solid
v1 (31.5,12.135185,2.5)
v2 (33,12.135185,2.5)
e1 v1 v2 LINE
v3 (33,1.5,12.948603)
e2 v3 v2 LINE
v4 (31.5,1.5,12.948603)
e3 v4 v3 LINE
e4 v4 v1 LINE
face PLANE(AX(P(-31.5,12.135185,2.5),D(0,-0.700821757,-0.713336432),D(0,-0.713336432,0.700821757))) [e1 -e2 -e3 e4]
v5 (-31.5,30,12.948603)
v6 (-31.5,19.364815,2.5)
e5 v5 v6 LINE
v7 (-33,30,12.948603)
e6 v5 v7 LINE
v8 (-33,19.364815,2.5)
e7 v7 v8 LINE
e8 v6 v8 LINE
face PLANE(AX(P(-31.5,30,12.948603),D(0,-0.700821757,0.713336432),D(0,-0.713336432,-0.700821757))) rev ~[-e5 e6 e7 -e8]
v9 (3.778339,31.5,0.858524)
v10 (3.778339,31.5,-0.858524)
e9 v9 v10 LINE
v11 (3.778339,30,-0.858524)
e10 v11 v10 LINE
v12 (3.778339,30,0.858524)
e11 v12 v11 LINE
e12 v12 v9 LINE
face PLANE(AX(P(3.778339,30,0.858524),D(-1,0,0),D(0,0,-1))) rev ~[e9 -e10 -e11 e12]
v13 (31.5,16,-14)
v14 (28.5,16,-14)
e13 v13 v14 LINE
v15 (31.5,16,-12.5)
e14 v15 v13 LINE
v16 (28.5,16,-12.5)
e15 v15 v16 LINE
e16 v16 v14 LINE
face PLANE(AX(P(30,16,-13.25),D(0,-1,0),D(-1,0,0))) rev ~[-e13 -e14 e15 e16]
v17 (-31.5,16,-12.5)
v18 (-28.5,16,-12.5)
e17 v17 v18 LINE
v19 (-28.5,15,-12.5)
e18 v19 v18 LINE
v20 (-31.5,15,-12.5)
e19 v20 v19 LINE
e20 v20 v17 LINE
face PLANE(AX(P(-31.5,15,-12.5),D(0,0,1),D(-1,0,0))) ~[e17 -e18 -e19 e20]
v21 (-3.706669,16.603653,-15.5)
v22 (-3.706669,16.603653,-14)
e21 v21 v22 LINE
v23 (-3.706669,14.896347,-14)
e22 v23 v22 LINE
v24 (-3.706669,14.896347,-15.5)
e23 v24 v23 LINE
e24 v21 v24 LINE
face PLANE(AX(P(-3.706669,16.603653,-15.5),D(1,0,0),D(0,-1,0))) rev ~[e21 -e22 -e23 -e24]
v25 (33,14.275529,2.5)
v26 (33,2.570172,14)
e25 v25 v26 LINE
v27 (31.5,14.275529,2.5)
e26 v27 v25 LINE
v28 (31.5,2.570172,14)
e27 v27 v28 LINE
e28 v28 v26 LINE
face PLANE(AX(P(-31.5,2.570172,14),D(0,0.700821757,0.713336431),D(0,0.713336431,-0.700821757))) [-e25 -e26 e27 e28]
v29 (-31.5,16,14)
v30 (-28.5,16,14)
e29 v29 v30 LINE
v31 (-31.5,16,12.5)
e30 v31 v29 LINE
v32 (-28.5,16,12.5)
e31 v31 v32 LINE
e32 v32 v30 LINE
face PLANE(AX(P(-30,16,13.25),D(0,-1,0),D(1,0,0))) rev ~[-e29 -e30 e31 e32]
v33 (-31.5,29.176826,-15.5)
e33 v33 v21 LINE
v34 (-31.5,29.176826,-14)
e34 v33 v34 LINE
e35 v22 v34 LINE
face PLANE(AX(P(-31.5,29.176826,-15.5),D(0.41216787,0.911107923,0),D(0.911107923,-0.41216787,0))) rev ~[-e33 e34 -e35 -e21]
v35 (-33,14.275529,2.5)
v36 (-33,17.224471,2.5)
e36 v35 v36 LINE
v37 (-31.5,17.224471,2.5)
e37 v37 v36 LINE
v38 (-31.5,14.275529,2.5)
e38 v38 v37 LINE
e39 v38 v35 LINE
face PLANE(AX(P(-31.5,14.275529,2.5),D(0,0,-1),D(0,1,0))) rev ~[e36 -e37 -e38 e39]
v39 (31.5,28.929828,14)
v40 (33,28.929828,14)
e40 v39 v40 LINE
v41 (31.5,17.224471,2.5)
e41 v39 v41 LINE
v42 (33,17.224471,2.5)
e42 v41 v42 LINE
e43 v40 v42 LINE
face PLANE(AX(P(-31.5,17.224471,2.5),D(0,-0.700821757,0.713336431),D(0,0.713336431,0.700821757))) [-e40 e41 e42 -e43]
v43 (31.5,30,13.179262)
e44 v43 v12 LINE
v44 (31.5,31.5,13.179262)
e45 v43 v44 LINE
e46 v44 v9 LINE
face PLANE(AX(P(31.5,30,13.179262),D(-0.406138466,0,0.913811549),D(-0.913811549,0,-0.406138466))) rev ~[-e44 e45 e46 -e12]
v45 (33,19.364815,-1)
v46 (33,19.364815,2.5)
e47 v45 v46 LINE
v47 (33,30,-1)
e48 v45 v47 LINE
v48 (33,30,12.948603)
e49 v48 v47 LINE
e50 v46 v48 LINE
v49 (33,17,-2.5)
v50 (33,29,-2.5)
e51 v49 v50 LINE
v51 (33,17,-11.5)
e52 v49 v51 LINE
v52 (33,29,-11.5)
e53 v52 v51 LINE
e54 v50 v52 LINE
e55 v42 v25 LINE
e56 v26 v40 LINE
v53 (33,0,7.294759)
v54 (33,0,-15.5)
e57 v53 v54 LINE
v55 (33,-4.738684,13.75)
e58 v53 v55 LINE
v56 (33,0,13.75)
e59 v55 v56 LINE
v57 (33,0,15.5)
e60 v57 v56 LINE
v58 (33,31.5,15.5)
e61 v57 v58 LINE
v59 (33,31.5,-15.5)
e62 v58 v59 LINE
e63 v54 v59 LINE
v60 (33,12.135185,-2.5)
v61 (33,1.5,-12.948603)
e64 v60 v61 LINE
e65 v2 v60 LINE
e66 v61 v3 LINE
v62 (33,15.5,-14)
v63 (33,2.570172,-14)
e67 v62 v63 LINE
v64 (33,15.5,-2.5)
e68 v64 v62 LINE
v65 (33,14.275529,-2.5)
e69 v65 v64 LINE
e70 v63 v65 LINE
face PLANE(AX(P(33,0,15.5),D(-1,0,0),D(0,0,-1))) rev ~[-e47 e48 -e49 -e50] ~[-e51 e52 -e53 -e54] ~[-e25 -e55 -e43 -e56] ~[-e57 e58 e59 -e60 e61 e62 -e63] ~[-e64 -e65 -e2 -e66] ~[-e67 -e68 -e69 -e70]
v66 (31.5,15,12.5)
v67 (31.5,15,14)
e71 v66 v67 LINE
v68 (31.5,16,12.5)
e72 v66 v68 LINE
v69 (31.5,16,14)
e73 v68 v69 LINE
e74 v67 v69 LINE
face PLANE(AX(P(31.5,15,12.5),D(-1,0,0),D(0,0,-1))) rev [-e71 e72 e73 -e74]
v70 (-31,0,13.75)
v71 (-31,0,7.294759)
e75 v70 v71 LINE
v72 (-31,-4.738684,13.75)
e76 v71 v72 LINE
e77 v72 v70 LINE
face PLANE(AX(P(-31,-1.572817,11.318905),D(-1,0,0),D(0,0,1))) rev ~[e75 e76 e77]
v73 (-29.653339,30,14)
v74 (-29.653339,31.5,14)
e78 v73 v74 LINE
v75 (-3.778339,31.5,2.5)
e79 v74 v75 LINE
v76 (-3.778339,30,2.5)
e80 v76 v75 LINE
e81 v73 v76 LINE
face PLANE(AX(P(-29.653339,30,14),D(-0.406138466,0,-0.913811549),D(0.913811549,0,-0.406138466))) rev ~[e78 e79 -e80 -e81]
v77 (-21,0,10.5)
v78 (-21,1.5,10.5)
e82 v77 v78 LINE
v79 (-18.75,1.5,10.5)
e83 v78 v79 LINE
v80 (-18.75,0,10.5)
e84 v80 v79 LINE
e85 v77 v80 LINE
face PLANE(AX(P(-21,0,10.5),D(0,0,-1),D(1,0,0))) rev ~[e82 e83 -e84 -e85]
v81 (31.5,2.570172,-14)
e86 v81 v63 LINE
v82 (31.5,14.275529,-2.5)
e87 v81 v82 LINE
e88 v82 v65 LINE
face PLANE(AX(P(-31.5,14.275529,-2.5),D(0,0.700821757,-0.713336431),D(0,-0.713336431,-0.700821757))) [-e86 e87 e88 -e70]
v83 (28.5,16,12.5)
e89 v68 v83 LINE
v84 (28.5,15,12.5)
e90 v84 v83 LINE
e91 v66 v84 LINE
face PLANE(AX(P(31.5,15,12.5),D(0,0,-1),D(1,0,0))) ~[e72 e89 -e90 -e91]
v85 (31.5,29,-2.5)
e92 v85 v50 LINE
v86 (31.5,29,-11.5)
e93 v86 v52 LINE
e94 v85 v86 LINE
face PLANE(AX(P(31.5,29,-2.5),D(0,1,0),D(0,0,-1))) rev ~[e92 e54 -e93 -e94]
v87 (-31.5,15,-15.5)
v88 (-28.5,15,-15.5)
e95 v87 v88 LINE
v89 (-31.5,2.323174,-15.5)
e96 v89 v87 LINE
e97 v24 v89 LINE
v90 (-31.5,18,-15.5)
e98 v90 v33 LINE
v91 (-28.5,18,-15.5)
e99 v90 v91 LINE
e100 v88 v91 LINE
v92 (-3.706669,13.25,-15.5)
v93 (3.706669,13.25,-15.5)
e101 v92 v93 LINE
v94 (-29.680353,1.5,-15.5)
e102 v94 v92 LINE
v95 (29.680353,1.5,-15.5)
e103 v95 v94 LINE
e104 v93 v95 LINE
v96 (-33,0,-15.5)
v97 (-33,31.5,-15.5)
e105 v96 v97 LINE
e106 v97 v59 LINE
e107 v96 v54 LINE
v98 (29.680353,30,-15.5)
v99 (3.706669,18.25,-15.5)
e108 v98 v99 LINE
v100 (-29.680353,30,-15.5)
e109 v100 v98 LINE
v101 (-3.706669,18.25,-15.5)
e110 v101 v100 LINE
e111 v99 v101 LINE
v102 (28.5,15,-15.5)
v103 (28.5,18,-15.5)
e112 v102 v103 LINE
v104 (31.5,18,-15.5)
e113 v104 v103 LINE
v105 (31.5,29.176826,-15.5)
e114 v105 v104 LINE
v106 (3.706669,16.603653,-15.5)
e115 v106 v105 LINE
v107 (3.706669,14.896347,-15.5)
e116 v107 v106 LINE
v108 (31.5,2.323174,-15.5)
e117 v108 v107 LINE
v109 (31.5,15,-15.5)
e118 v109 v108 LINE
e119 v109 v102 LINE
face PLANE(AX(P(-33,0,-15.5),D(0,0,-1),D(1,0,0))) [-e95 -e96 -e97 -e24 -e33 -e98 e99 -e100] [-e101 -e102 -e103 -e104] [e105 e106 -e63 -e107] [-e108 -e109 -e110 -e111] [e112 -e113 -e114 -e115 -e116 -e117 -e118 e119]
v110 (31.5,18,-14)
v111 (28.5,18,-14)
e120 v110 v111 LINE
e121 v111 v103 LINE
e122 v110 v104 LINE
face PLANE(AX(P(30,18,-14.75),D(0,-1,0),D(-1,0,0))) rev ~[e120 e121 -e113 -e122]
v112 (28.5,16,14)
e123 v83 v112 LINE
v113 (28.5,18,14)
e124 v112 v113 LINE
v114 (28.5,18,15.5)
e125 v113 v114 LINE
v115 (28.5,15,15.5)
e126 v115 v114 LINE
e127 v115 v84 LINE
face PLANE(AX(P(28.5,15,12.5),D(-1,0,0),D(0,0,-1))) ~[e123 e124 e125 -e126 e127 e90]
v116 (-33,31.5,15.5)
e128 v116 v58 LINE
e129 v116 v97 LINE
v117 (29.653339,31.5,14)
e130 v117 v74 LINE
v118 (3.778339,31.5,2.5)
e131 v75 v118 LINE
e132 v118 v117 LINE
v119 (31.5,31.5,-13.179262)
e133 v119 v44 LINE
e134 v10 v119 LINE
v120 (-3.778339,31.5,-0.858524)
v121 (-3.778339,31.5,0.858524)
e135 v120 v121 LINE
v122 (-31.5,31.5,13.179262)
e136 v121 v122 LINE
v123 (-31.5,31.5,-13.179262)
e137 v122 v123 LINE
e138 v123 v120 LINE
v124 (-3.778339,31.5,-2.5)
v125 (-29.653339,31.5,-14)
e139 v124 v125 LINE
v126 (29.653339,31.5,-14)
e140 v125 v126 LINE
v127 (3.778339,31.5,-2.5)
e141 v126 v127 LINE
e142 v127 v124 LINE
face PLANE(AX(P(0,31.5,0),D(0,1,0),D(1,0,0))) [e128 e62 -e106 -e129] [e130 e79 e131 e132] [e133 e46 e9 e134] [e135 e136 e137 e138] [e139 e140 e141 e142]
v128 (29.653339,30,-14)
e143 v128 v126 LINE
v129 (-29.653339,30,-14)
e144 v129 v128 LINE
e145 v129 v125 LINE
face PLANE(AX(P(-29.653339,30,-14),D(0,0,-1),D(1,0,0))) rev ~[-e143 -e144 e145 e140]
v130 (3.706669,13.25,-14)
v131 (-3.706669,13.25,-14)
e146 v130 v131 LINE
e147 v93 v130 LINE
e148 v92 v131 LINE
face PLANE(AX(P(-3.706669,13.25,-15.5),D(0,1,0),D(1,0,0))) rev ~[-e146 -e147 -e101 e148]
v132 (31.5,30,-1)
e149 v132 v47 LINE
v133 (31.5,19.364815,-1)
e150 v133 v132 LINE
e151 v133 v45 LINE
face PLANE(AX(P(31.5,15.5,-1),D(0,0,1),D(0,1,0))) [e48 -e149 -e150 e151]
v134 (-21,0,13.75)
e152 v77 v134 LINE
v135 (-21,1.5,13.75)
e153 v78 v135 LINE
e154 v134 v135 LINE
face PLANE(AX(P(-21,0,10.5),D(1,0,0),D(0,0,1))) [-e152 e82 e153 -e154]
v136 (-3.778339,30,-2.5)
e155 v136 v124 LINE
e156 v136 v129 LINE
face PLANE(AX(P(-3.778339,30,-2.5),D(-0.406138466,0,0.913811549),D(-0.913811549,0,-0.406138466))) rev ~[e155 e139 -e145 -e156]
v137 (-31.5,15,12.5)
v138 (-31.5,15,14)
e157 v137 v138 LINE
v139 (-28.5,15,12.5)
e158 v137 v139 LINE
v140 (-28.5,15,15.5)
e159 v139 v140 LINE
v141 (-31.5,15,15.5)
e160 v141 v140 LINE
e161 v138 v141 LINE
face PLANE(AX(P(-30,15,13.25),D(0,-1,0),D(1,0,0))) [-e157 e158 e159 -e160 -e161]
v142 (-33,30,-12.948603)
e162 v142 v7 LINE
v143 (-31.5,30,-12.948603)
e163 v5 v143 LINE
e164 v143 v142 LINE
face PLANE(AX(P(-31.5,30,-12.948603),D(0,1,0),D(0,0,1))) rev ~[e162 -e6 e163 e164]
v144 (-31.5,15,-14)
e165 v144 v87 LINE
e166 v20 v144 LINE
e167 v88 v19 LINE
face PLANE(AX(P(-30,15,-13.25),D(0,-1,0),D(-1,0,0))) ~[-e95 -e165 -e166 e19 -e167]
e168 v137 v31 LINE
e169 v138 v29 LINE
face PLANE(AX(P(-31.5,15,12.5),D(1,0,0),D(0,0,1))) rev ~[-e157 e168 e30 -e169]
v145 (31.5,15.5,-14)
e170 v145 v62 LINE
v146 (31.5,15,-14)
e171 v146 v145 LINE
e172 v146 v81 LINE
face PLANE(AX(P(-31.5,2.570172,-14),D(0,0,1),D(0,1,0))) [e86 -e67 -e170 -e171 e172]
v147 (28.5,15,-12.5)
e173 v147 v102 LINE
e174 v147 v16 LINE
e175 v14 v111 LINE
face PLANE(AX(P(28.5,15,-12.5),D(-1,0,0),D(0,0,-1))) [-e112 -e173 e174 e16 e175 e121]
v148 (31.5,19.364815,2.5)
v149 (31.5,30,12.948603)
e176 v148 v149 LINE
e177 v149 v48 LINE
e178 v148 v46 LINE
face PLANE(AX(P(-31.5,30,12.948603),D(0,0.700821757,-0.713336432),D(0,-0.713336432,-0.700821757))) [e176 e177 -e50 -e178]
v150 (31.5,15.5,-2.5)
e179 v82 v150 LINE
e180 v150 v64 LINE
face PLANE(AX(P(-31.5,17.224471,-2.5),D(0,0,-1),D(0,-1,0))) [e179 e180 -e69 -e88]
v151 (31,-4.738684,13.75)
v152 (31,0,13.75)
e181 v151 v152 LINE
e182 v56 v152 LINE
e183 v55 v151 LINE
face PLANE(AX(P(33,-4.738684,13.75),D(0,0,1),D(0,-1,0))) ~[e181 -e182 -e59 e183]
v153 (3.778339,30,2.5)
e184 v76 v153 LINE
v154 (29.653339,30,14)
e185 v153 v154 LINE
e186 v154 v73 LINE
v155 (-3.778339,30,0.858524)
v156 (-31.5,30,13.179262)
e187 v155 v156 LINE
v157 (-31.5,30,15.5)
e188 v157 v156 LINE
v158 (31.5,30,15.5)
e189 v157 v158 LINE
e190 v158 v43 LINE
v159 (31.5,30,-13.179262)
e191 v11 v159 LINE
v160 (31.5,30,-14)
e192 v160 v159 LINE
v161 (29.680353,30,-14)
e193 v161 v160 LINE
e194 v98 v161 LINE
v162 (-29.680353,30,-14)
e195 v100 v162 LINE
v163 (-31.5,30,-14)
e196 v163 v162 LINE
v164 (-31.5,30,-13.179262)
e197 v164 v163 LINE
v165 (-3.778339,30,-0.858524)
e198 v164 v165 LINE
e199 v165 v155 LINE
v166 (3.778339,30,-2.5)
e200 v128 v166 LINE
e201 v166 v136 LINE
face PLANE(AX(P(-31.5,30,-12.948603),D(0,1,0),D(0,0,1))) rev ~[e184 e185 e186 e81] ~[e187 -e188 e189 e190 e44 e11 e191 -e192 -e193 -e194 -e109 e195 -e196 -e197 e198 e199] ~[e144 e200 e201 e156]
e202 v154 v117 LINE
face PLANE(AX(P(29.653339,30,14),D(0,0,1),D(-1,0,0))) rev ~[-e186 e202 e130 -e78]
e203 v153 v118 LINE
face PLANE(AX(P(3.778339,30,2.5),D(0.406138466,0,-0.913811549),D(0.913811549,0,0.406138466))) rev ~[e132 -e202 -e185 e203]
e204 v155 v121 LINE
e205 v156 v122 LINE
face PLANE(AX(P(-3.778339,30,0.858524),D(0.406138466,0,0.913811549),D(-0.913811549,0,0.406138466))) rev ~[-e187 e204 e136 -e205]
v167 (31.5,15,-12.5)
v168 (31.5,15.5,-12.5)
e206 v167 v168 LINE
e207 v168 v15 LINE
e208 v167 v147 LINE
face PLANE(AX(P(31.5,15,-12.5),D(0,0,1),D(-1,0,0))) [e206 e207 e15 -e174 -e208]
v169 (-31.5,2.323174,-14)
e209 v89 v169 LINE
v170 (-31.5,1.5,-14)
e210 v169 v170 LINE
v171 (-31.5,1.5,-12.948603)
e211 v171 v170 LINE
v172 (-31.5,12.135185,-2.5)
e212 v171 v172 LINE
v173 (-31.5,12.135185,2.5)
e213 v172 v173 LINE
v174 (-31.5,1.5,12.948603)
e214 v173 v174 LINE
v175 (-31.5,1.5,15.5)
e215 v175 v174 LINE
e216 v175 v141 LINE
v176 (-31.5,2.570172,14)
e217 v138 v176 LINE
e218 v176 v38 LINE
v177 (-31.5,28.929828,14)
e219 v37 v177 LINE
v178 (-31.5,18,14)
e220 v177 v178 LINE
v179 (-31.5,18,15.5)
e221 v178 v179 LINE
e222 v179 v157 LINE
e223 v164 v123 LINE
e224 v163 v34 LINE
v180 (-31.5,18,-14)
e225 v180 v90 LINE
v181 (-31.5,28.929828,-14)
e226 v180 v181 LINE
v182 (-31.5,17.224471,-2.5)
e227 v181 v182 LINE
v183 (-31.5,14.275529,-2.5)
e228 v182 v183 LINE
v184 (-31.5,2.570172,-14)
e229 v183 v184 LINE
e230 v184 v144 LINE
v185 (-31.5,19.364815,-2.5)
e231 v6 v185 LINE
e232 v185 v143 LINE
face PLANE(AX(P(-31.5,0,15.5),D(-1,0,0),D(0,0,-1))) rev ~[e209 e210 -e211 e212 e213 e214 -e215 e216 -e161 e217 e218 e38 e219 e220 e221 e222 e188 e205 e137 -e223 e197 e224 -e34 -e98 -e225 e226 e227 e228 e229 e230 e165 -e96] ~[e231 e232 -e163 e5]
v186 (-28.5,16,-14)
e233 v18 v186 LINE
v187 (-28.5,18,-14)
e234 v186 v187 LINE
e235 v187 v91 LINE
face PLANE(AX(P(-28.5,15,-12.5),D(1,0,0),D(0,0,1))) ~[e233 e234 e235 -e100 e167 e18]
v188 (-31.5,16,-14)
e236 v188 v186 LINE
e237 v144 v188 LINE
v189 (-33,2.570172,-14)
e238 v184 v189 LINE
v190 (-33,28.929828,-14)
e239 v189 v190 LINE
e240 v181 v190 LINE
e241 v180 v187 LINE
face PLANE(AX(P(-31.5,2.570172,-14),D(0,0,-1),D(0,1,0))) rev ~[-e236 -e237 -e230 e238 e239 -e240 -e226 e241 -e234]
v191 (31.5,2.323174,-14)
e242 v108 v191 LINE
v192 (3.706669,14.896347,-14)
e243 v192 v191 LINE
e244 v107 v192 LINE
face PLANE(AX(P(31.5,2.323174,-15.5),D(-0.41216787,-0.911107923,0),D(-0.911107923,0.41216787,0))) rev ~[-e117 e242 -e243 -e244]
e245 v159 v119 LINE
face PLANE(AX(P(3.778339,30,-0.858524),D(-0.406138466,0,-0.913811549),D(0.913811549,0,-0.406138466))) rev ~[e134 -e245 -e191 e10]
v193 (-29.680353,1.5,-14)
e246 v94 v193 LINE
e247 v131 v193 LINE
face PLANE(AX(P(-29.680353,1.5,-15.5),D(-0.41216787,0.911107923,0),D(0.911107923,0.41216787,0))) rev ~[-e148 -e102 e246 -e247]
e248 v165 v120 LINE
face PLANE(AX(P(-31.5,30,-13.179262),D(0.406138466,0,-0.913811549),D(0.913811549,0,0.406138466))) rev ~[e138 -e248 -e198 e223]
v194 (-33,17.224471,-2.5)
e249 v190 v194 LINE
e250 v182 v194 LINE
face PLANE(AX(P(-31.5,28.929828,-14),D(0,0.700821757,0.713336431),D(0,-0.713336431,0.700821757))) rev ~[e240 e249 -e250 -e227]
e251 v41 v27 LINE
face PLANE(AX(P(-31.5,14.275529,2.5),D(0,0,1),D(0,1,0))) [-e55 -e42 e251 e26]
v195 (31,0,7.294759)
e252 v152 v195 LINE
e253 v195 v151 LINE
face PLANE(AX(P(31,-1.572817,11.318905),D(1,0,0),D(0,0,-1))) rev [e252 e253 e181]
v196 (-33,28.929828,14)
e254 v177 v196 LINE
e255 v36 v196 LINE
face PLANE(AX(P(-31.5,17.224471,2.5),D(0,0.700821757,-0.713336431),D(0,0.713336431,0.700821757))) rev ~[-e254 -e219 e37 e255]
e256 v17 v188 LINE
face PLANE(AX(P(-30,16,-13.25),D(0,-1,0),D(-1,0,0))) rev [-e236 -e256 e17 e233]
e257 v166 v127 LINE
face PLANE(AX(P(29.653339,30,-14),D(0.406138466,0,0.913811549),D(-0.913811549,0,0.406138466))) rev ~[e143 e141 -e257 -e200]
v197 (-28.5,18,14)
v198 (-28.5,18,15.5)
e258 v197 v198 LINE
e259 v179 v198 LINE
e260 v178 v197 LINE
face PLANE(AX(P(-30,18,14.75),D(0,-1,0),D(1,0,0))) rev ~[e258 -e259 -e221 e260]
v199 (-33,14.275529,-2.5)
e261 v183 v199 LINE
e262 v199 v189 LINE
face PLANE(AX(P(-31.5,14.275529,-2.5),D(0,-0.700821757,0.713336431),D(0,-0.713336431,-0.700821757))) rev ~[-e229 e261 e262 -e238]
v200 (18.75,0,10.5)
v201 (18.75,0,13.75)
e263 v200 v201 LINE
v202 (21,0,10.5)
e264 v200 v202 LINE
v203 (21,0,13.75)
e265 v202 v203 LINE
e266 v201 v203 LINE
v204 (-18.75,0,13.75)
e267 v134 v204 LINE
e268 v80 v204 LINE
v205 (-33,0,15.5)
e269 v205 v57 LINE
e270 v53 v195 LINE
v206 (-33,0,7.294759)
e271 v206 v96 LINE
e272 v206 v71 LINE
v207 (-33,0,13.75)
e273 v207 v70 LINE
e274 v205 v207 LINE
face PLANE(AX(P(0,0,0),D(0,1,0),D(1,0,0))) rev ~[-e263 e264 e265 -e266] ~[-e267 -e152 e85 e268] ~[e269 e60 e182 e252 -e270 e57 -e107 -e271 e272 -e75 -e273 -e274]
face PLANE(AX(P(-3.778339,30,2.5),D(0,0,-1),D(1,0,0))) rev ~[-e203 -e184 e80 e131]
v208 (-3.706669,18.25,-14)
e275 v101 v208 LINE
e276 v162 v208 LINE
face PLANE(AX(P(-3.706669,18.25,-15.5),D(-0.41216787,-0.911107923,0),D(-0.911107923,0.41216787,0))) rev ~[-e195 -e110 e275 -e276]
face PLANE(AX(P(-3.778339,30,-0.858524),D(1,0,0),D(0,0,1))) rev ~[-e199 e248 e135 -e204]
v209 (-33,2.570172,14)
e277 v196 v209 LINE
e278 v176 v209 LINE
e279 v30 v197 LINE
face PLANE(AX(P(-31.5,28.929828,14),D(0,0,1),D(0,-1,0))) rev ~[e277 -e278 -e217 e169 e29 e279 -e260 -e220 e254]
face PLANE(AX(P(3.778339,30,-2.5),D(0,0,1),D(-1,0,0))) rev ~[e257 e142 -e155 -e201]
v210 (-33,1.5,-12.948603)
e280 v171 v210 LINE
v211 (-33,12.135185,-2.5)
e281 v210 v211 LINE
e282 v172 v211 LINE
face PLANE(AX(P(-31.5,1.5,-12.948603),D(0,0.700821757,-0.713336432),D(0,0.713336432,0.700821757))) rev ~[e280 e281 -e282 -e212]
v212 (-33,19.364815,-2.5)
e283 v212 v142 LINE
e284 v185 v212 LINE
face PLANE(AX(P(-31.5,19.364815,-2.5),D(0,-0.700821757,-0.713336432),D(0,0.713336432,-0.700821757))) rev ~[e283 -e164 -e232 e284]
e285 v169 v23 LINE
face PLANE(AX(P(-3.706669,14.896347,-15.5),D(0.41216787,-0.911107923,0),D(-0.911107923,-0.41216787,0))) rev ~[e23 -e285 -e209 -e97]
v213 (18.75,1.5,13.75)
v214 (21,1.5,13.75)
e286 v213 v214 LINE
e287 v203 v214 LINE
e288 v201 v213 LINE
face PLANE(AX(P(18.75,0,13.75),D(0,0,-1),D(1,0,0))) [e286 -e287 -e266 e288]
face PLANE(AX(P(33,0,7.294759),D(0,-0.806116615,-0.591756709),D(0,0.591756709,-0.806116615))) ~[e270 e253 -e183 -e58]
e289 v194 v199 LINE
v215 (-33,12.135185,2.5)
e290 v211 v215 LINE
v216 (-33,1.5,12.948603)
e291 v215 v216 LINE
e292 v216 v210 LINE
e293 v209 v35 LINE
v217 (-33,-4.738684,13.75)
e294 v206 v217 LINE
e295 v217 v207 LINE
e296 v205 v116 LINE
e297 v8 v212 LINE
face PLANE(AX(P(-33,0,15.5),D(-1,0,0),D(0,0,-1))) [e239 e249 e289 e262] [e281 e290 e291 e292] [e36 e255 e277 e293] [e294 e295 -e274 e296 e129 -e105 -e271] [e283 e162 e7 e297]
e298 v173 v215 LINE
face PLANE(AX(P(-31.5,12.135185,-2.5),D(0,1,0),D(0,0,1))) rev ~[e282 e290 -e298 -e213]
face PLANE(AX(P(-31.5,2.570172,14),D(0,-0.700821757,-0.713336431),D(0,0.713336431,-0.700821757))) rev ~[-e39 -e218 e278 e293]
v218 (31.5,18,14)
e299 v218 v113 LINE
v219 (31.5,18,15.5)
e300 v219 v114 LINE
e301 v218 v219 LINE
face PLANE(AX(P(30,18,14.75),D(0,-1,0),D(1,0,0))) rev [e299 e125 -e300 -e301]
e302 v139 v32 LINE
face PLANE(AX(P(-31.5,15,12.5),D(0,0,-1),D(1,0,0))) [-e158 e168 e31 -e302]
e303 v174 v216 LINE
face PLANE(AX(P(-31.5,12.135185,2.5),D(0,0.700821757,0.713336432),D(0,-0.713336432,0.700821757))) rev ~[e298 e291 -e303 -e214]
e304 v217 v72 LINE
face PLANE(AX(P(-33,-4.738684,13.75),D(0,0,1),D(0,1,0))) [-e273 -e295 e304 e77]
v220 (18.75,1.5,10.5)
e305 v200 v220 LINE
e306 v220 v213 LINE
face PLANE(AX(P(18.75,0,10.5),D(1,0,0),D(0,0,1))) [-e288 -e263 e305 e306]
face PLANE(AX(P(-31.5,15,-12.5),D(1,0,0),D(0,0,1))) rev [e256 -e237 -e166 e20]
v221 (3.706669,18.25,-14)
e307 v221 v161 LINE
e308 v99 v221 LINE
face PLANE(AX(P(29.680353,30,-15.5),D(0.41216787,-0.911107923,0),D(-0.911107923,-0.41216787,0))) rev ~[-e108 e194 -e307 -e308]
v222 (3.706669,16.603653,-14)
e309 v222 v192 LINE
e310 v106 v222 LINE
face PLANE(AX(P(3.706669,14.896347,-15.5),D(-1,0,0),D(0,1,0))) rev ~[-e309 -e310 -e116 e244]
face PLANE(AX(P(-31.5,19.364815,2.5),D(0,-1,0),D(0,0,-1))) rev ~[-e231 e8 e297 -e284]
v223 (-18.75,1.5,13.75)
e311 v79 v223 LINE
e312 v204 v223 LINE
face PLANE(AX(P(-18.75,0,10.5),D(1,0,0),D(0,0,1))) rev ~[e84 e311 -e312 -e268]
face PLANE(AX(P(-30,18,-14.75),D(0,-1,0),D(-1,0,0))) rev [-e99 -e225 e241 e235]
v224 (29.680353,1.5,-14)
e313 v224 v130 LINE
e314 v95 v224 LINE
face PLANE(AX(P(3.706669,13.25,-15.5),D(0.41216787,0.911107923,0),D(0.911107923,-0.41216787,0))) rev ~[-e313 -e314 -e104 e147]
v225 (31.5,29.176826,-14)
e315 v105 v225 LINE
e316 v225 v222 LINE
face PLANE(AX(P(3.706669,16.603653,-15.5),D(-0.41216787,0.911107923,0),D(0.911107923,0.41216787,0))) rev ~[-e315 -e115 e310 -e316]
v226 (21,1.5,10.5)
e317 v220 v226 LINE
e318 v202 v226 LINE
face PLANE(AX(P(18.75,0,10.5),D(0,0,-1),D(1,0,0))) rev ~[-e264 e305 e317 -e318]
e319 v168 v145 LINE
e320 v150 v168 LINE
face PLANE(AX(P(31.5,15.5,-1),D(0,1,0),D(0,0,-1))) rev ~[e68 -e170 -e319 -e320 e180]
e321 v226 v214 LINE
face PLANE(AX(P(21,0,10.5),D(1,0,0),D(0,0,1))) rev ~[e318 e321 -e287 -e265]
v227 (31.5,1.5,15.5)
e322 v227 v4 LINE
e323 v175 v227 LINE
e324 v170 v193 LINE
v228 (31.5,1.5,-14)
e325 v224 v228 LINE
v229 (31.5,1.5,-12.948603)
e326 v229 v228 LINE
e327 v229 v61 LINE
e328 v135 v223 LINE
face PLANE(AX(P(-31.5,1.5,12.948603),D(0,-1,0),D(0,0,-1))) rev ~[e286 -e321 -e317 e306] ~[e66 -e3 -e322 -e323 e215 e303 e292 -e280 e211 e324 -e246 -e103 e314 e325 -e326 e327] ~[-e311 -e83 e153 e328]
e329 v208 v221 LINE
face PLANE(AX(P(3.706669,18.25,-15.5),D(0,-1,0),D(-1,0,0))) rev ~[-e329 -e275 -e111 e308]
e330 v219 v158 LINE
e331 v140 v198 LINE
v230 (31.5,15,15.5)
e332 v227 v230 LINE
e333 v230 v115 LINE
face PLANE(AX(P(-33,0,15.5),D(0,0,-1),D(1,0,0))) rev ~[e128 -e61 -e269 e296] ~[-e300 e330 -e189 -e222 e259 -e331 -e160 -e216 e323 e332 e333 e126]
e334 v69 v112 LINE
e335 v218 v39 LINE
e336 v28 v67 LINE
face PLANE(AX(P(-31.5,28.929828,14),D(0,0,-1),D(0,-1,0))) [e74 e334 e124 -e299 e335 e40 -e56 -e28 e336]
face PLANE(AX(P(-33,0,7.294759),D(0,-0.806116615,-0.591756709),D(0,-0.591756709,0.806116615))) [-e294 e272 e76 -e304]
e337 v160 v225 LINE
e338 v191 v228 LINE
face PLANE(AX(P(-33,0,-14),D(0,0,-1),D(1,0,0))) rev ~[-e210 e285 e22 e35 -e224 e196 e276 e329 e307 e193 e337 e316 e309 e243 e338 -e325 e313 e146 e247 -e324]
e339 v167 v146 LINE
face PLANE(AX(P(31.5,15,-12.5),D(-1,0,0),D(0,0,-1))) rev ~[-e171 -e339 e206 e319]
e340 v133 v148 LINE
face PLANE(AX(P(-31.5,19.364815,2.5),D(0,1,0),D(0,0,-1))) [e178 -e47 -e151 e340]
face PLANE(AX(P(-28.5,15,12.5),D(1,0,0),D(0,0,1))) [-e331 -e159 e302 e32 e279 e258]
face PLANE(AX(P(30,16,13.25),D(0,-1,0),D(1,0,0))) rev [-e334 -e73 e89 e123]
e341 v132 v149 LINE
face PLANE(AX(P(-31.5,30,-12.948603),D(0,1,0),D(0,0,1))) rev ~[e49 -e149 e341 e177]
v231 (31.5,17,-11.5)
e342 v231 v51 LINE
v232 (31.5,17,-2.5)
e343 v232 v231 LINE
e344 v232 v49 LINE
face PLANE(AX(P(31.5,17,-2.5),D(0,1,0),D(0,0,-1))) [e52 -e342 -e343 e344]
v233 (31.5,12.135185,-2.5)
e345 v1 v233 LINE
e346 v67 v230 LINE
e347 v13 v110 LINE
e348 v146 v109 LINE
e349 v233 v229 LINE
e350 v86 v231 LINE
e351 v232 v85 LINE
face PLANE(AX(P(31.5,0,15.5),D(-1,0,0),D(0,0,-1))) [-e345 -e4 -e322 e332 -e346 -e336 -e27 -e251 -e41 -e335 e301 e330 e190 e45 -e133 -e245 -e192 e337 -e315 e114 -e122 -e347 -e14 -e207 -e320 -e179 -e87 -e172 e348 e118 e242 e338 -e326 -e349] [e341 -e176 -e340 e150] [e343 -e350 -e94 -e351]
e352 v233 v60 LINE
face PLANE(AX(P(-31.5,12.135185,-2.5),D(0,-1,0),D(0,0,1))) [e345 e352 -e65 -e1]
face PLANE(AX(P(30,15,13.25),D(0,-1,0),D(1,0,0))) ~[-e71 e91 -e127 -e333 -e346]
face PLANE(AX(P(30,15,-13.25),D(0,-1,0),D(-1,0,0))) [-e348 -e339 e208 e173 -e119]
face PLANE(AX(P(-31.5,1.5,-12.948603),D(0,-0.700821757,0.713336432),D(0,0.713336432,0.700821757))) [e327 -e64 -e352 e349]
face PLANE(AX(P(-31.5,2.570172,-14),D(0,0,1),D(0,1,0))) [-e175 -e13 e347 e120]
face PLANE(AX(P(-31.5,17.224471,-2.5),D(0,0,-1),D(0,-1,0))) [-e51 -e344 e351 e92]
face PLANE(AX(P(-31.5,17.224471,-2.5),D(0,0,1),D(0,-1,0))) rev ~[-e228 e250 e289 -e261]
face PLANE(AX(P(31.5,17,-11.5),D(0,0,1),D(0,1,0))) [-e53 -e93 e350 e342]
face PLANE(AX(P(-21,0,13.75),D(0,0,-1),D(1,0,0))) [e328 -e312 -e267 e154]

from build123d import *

# Parameters (mm, degrees)
SKETCH1_W                      = 66
SKETCH1_H                      = 31
BOSS_EXTRUDE1_DEPTH            = 31.5
SHELL1_T                       = -1.5
CUT_EXTRUDE1_REACH             = 57.157
CUT_EXTRUDE2_REACH             = 75.435
CUT_EXTRUDE2_DIRECTION_2_REACH = 75.435
SKETCH6_W                      = 3
SKETCH6_H                      = 1.5
BOSS_EXTRUDE4_DEPTH            = 3
SKETCH6_3_W                    = 3
SKETCH6_3_H                    = 1.5
BOSS_EXTRUDE5_DEPTH            = 1
MIRROR3_COPY_1_SKETCH_W        = 3
MIRROR3_COPY_1_SKETCH_H        = 1.5
MIRROR3_COPY_1_DEPTH           = 3
MIRROR3_COPY_2_SKETCH_W        = 3
MIRROR3_COPY_2_SKETCH_H        = 1.5
MIRROR3_COPY_2_DEPTH           = 1
SKETCH7_W                      = 13
SKETCH7_H                      = 14.5
SKETCH7_W_2                    = 9
SKETCH7_H_2                    = 12
BOSS_EXTRUDE8_DEPTH            = 1.5
SKETCH7_4_W                    = 9
SKETCH7_4_H                    = 12
CUT_EXTRUDE5_DEPTH             = 1.5
CUT_EXTRUDE9_REACH             = 49.215
BOSS_EXTRUDE9_DEPTH            = 2
SKETCH12_W                     = 2.25
SKETCH12_H                     = 3.25
CUT_EXTRUDE10_DEPTH            = 1.5


with BuildPart() as part:
    # Sketch1 → Boss-Extrude1 (new body)
    with BuildSketch(Plane(origin=(0, 0, 0), x_dir=(1, 0, 0), z_dir=(0, 1, 0))):
        Rectangle(SKETCH1_W, SKETCH1_H)
    extrude(amount=BOSS_EXTRUDE1_DEPTH)

    # Shell1
    shell1_openings = [part.faces().sort_by_distance(p)[0] for p in [
        (0, 15.75, 15.5),
    ]]
    offset(amount=SHELL1_T, openings=shell1_openings, kind=Kind.INTERSECTION)

    # Sketch3 → Cut-Extrude1 (cut, up to next)
    with BuildSketch(Plane(origin=(0, 0, -15.5), x_dir=(-1, 0, 0), z_dir=(0, 0, -1)), mode=Mode.PRIVATE) as cut_extrude1_sk1:
        Polygon((29.680353068, 1.5), (3.706668857, 13.25), (-3.706668857, 13.25), (-29.680353068, 1.5), align=None)
    cut_extrude1_tool1 = extrude(cut_extrude1_sk1.sketch, amount=-CUT_EXTRUDE1_REACH, mode=Mode.PRIVATE) & part.part
    # Sketch3 → Cut-Extrude1 (cut, up to next)
    with BuildSketch(Plane(origin=(0, 0, -15.5), x_dir=(-1, 0, 0), z_dir=(0, 0, -1)), mode=Mode.PRIVATE) as cut_extrude1_sk2:
        Polygon((3.706668857, 16.603652775), (3.706668857, 14.896347225), (31.5, 2.323173612), (31.5, 29.176826388), align=None)
    cut_extrude1_tool2 = extrude(cut_extrude1_sk2.sketch, amount=-CUT_EXTRUDE1_REACH, mode=Mode.PRIVATE) & part.part
    # Sketch3 → Cut-Extrude1 (cut, up to next)
    with BuildSketch(Plane(origin=(0, 0, -15.5), x_dir=(-1, 0, 0), z_dir=(0, 0, -1)), mode=Mode.PRIVATE) as cut_extrude1_sk3:
        Polygon((-31.5, 2.323173612), (-3.706668857, 14.896347225), (-3.706668857, 16.603652775), (-31.5, 29.176826388), align=None)
    cut_extrude1_tool3 = extrude(cut_extrude1_sk3.sketch, amount=-CUT_EXTRUDE1_REACH, mode=Mode.PRIVATE) & part.part
    # Sketch3 → Cut-Extrude1 (cut, up to next)
    with BuildSketch(Plane(origin=(0, 0, -15.5), x_dir=(-1, 0, 0), z_dir=(0, 0, -1)), mode=Mode.PRIVATE) as cut_extrude1_sk4:
        Polygon((-3.706668857, 18.25), (3.706668857, 18.25), (29.680353068, 30), (-29.680353068, 30), align=None)
    cut_extrude1_tool4 = extrude(cut_extrude1_sk4.sketch, amount=-CUT_EXTRUDE1_REACH, mode=Mode.PRIVATE) & part.part
    add(cut_extrude1_tool1.solids().sort_by_distance((0, 5.8515, -15.5))[0], mode=Mode.SUBTRACT)
    add(cut_extrude1_tool2.solids().sort_by_distance((-21.68175, 15.75, -15.5))[0], mode=Mode.SUBTRACT)
    add(cut_extrude1_tool3.solids().sort_by_distance((21.68175, 15.75, -15.5))[0], mode=Mode.SUBTRACT)
    add(cut_extrude1_tool4.solids().sort_by_distance((0, 25.6485, -15.5))[0], mode=Mode.SUBTRACT)

    # Sketch4 → Cut-Extrude2 (cut, up to next)
    with BuildSketch(Plane(origin=(-31.5, 0, 0), x_dir=(0, 0, -1), z_dir=(1, 0, 0)), mode=Mode.PRIVATE) as cut_extrude2_sk1:
        Polygon((-2.5, 17.224470603), (-14, 28.929827745), (-14, 2.570172255), (-2.5, 14.275529397), align=None)
    cut_extrude2_tool1 = extrude(cut_extrude2_sk1.sketch, amount=-CUT_EXTRUDE2_REACH, mode=Mode.PRIVATE) & part.part
    # Sketch4 → Cut-Extrude2 (cut, up to next)
    with BuildSketch(Plane(origin=(-31.5, 0, 0), x_dir=(0, 0, -1), z_dir=(1, 0, 0)), mode=Mode.PRIVATE) as cut_extrude2_sk2:
        Polygon((12.948602697, 30), (-12.948602697, 30), (-2.5, 19.364815112), (2.5, 19.364815112), align=None)
    cut_extrude2_tool2 = extrude(cut_extrude2_sk2.sketch, amount=-CUT_EXTRUDE2_REACH, mode=Mode.PRIVATE) & part.part
    # Sketch4 → Cut-Extrude2 (cut, up to next)
    with BuildSketch(Plane(origin=(-31.5, 0, 0), x_dir=(0, 0, -1), z_dir=(1, 0, 0)), mode=Mode.PRIVATE) as cut_extrude2_sk3:
        Polygon((-2.5, 12.135184888), (-12.948602697, 1.5), (12.948602697, 1.5), (2.5, 12.135184888), align=None)
    cut_extrude2_tool3 = extrude(cut_extrude2_sk3.sketch, amount=-CUT_EXTRUDE2_REACH, mode=Mode.PRIVATE) & part.part
    # Sketch4 → Cut-Extrude2 (cut, up to next)
    with BuildSketch(Plane(origin=(-31.5, 0, 0), x_dir=(0, 0, -1), z_dir=(1, 0, 0)), mode=Mode.PRIVATE) as cut_extrude2_sk4:
        Polygon((14, 28.929827745), (2.5, 17.224470603), (2.5, 14.275529397), (14, 2.570172255), align=None)
    cut_extrude2_tool4 = extrude(cut_extrude2_sk4.sketch, amount=-CUT_EXTRUDE2_REACH, mode=Mode.PRIVATE) & part.part
    add(cut_extrude2_tool1.solids().sort_by_distance((-31.5, 15.75, 9.780968))[0], mode=Mode.SUBTRACT)
    add(cut_extrude2_tool2.solids().sort_by_distance((-31.5, 25.881252, 0))[0], mode=Mode.SUBTRACT)
    add(cut_extrude2_tool3.solids().sort_by_distance((-31.5, 5.618748, 0))[0], mode=Mode.SUBTRACT)
    add(cut_extrude2_tool4.solids().sort_by_distance((-31.5, 15.75, -9.780968))[0], mode=Mode.SUBTRACT)

    # Sketch4 → Cut-Extrude2 direction 2 (cut, up to next)
    with BuildSketch(Plane(origin=(-31.5, 0, 0), x_dir=(0, 0, -1), z_dir=(1, 0, 0)), mode=Mode.PRIVATE) as cut_extrude2_direction_2_sk1:
        Polygon((-2.5, 17.224470603), (-14, 28.929827745), (-14, 2.570172255), (-2.5, 14.275529397), align=None)
    cut_extrude2_direction_2_tool1 = extrude(cut_extrude2_direction_2_sk1.sketch, amount=CUT_EXTRUDE2_DIRECTION_2_REACH, mode=Mode.PRIVATE) & part.part
    # Sketch4 → Cut-Extrude2 direction 2 (cut, up to next)
    with BuildSketch(Plane(origin=(-31.5, 0, 0), x_dir=(0, 0, -1), z_dir=(1, 0, 0)), mode=Mode.PRIVATE) as cut_extrude2_direction_2_sk2:
        Polygon((12.948602697, 30), (-12.948602697, 30), (-2.5, 19.364815112), (2.5, 19.364815112), align=None)
    cut_extrude2_direction_2_tool2 = extrude(cut_extrude2_direction_2_sk2.sketch, amount=CUT_EXTRUDE2_DIRECTION_2_REACH, mode=Mode.PRIVATE) & part.part
    # Sketch4 → Cut-Extrude2 direction 2 (cut, up to next)
    with BuildSketch(Plane(origin=(-31.5, 0, 0), x_dir=(0, 0, -1), z_dir=(1, 0, 0)), mode=Mode.PRIVATE) as cut_extrude2_direction_2_sk3:
        Polygon((-2.5, 12.135184888), (-12.948602697, 1.5), (12.948602697, 1.5), (2.5, 12.135184888), align=None)
    cut_extrude2_direction_2_tool3 = extrude(cut_extrude2_direction_2_sk3.sketch, amount=CUT_EXTRUDE2_DIRECTION_2_REACH, mode=Mode.PRIVATE) & part.part
    # Sketch4 → Cut-Extrude2 direction 2 (cut, up to next)
    with BuildSketch(Plane(origin=(-31.5, 0, 0), x_dir=(0, 0, -1), z_dir=(1, 0, 0)), mode=Mode.PRIVATE) as cut_extrude2_direction_2_sk4:
        Polygon((14, 28.929827745), (2.5, 17.224470603), (2.5, 14.275529397), (14, 2.570172255), align=None)
    cut_extrude2_direction_2_tool4 = extrude(cut_extrude2_direction_2_sk4.sketch, amount=CUT_EXTRUDE2_DIRECTION_2_REACH, mode=Mode.PRIVATE) & part.part
    add(cut_extrude2_direction_2_tool1.solids().sort_by_distance((-31.5, 15.75, 9.780968))[0], mode=Mode.SUBTRACT)
    add(cut_extrude2_direction_2_tool2.solids().sort_by_distance((-31.5, 25.881252, 0))[0], mode=Mode.SUBTRACT)
    add(cut_extrude2_direction_2_tool3.solids().sort_by_distance((-31.5, 5.618748, 0))[0], mode=Mode.SUBTRACT)
    add(cut_extrude2_direction_2_tool4.solids().sort_by_distance((-31.5, 15.75, -9.780968))[0], mode=Mode.SUBTRACT)

    # Sketch6 → Boss-Extrude4 (add)
    with BuildSketch(Plane(origin=(0, 15, 0), x_dir=(-1, 0, 0), z_dir=(0, -1, 0))):
        with Locations((-30, 14.75)):
            Rectangle(SKETCH6_W, SKETCH6_H)
    boss_extrude4 = extrude(amount=-BOSS_EXTRUDE4_DEPTH)

    # Sketch6<3> → Boss-Extrude5 (add)
    with BuildSketch(Plane(origin=(0, 15, 0), x_dir=(-1, 0, 0), z_dir=(0, -1, 0))):
        with Locations((-30, 13.25)):
            Rectangle(SKETCH6_3_W, SKETCH6_3_H)
    boss_extrude5 = extrude(amount=-BOSS_EXTRUDE5_DEPTH)

    # Mirror2: Boss-Extrude4, Boss-Extrude5 across plane
    add(boss_extrude4.mirror(Plane.XY))
    add(boss_extrude5.mirror(Plane.XY))

    # Mirror3: Boss-Extrude4, Boss-Extrude5 across plane
    add(boss_extrude4.mirror(Plane.ZY))
    add(boss_extrude5.mirror(Plane.ZY))

    # Mirror3 copy 1 sketch → Mirror3 copy 1 (add)
    with BuildSketch(Plane.XZ.offset(-15)):
        with Locations((-30, 14.75)):
            Rectangle(MIRROR3_COPY_1_SKETCH_W, MIRROR3_COPY_1_SKETCH_H)
    extrude(amount=-MIRROR3_COPY_1_DEPTH)

    # Mirror3 copy 2 sketch → Mirror3 copy 2 (add)
    with BuildSketch(Plane.XZ.offset(-15)):
        with Locations((-30, 13.25)):
            Rectangle(MIRROR3_COPY_2_SKETCH_W, MIRROR3_COPY_2_SKETCH_H)
    extrude(amount=-MIRROR3_COPY_2_DEPTH)

    # Sketch7 → Boss-Extrude8 (add)
    with BuildSketch(Plane(origin=(31.5, 0, 0), x_dir=(0, 0, -1), z_dir=(1, 0, 0))):
        with Locations((7.5, 22.75)):
            Rectangle(SKETCH7_W, SKETCH7_H)
        with Locations((7, 23)):
            Rectangle(SKETCH7_W_2, SKETCH7_H_2, mode=Mode.SUBTRACT)
    extrude(amount=BOSS_EXTRUDE8_DEPTH)

    # Sketch7<4> → Cut-Extrude5 (cut)
    with BuildSketch(Plane(origin=(31.5, 0, 0), x_dir=(0, 0, -1), z_dir=(1, 0, 0))):
        with Locations((7, 23)):
            Rectangle(SKETCH7_4_W, SKETCH7_4_H)
    extrude(amount=CUT_EXTRUDE5_DEPTH, mode=Mode.SUBTRACT)

    # Sketch10 → Cut-Extrude9 (cut, up to next)
    with BuildSketch(Plane.XZ.offset(-30), mode=Mode.PRIVATE) as cut_extrude9_sk1:
        Polygon((-31.5, -13.17926185), (-3.778339162, -0.8585237), (-3.778339162, 0.8585237), (-31.5, 13.17926185), (-31.5, 12.948602697), (-31.5, -12.948602697), align=None)
    cut_extrude9_tool1 = extrude(cut_extrude9_sk1.sketch, amount=-CUT_EXTRUDE9_REACH, mode=Mode.PRIVATE) & part.part
    # Sketch10 → Cut-Extrude9 (cut, up to next)
    with BuildSketch(Plane.XZ.offset(-30), mode=Mode.PRIVATE) as cut_extrude9_sk2:
        Polygon((-3.778339162, 2.5), (3.778339162, 2.5), (29.653339162, 14), (-29.653339162, 14), align=None)
    cut_extrude9_tool2 = extrude(cut_extrude9_sk2.sketch, amount=-CUT_EXTRUDE9_REACH, mode=Mode.PRIVATE) & part.part
    # Sketch10 → Cut-Extrude9 (cut, up to next)
    with BuildSketch(Plane.XZ.offset(-30), mode=Mode.PRIVATE) as cut_extrude9_sk3:
        Polygon((3.778339162, 0.8585237), (3.778339162, -0.8585237), (31.5, -13.17926185), (31.5, -1), (31.5, 12.948602697), (31.5, 13.17926185), align=None)
    cut_extrude9_tool3 = extrude(cut_extrude9_sk3.sketch, amount=-CUT_EXTRUDE9_REACH, mode=Mode.PRIVATE) & part.part
    # Sketch10 → Cut-Extrude9 (cut, up to next)
    with BuildSketch(Plane.XZ.offset(-30), mode=Mode.PRIVATE) as cut_extrude9_sk4:
        Polygon((29.653339162, -14), (3.778339162, -2.5), (-3.778339162, -2.5), (-29.653339162, -14), align=None)
    cut_extrude9_tool4 = extrude(cut_extrude9_sk4.sketch, amount=-CUT_EXTRUDE9_REACH, mode=Mode.PRIVATE) & part.part
    add(cut_extrude9_tool1.solids().sort_by_distance((-21.694312, 30, 0))[0], mode=Mode.SUBTRACT)
    add(cut_extrude9_tool2.solids().sort_by_distance((0, 30, 9.733436))[0], mode=Mode.SUBTRACT)
    add(cut_extrude9_tool3.solids().sort_by_distance((21.694312, 30, 0))[0], mode=Mode.SUBTRACT)
    add(cut_extrude9_tool4.solids().sort_by_distance((0, 30, -9.733436))[0], mode=Mode.SUBTRACT)

    # Sketch11 → Boss-Extrude9 (add)
    with BuildSketch(Plane.ZY.offset(33)):
        Polygon((13.75, 0), (7.294759025, 0), (13.75, -4.738684311), align=None)
    boss_extrude9 = extrude(amount=-BOSS_EXTRUDE9_DEPTH)

    # Mirror5: Boss-Extrude9 across plane
    add(boss_extrude9.mirror(Plane.ZY))

    # Sketch12 → Cut-Extrude10 (cut)
    with BuildSketch(Plane.XZ):
        with Locations((-19.875, 12.125)):
            Rectangle(SKETCH12_W, SKETCH12_H)
        with Locations((19.875, 12.125)):
            Rectangle(SKETCH12_W, SKETCH12_H)
    extrude(amount=-CUT_EXTRUDE10_DEPTH, mode=Mode.SUBTRACT)


solid = part.part
